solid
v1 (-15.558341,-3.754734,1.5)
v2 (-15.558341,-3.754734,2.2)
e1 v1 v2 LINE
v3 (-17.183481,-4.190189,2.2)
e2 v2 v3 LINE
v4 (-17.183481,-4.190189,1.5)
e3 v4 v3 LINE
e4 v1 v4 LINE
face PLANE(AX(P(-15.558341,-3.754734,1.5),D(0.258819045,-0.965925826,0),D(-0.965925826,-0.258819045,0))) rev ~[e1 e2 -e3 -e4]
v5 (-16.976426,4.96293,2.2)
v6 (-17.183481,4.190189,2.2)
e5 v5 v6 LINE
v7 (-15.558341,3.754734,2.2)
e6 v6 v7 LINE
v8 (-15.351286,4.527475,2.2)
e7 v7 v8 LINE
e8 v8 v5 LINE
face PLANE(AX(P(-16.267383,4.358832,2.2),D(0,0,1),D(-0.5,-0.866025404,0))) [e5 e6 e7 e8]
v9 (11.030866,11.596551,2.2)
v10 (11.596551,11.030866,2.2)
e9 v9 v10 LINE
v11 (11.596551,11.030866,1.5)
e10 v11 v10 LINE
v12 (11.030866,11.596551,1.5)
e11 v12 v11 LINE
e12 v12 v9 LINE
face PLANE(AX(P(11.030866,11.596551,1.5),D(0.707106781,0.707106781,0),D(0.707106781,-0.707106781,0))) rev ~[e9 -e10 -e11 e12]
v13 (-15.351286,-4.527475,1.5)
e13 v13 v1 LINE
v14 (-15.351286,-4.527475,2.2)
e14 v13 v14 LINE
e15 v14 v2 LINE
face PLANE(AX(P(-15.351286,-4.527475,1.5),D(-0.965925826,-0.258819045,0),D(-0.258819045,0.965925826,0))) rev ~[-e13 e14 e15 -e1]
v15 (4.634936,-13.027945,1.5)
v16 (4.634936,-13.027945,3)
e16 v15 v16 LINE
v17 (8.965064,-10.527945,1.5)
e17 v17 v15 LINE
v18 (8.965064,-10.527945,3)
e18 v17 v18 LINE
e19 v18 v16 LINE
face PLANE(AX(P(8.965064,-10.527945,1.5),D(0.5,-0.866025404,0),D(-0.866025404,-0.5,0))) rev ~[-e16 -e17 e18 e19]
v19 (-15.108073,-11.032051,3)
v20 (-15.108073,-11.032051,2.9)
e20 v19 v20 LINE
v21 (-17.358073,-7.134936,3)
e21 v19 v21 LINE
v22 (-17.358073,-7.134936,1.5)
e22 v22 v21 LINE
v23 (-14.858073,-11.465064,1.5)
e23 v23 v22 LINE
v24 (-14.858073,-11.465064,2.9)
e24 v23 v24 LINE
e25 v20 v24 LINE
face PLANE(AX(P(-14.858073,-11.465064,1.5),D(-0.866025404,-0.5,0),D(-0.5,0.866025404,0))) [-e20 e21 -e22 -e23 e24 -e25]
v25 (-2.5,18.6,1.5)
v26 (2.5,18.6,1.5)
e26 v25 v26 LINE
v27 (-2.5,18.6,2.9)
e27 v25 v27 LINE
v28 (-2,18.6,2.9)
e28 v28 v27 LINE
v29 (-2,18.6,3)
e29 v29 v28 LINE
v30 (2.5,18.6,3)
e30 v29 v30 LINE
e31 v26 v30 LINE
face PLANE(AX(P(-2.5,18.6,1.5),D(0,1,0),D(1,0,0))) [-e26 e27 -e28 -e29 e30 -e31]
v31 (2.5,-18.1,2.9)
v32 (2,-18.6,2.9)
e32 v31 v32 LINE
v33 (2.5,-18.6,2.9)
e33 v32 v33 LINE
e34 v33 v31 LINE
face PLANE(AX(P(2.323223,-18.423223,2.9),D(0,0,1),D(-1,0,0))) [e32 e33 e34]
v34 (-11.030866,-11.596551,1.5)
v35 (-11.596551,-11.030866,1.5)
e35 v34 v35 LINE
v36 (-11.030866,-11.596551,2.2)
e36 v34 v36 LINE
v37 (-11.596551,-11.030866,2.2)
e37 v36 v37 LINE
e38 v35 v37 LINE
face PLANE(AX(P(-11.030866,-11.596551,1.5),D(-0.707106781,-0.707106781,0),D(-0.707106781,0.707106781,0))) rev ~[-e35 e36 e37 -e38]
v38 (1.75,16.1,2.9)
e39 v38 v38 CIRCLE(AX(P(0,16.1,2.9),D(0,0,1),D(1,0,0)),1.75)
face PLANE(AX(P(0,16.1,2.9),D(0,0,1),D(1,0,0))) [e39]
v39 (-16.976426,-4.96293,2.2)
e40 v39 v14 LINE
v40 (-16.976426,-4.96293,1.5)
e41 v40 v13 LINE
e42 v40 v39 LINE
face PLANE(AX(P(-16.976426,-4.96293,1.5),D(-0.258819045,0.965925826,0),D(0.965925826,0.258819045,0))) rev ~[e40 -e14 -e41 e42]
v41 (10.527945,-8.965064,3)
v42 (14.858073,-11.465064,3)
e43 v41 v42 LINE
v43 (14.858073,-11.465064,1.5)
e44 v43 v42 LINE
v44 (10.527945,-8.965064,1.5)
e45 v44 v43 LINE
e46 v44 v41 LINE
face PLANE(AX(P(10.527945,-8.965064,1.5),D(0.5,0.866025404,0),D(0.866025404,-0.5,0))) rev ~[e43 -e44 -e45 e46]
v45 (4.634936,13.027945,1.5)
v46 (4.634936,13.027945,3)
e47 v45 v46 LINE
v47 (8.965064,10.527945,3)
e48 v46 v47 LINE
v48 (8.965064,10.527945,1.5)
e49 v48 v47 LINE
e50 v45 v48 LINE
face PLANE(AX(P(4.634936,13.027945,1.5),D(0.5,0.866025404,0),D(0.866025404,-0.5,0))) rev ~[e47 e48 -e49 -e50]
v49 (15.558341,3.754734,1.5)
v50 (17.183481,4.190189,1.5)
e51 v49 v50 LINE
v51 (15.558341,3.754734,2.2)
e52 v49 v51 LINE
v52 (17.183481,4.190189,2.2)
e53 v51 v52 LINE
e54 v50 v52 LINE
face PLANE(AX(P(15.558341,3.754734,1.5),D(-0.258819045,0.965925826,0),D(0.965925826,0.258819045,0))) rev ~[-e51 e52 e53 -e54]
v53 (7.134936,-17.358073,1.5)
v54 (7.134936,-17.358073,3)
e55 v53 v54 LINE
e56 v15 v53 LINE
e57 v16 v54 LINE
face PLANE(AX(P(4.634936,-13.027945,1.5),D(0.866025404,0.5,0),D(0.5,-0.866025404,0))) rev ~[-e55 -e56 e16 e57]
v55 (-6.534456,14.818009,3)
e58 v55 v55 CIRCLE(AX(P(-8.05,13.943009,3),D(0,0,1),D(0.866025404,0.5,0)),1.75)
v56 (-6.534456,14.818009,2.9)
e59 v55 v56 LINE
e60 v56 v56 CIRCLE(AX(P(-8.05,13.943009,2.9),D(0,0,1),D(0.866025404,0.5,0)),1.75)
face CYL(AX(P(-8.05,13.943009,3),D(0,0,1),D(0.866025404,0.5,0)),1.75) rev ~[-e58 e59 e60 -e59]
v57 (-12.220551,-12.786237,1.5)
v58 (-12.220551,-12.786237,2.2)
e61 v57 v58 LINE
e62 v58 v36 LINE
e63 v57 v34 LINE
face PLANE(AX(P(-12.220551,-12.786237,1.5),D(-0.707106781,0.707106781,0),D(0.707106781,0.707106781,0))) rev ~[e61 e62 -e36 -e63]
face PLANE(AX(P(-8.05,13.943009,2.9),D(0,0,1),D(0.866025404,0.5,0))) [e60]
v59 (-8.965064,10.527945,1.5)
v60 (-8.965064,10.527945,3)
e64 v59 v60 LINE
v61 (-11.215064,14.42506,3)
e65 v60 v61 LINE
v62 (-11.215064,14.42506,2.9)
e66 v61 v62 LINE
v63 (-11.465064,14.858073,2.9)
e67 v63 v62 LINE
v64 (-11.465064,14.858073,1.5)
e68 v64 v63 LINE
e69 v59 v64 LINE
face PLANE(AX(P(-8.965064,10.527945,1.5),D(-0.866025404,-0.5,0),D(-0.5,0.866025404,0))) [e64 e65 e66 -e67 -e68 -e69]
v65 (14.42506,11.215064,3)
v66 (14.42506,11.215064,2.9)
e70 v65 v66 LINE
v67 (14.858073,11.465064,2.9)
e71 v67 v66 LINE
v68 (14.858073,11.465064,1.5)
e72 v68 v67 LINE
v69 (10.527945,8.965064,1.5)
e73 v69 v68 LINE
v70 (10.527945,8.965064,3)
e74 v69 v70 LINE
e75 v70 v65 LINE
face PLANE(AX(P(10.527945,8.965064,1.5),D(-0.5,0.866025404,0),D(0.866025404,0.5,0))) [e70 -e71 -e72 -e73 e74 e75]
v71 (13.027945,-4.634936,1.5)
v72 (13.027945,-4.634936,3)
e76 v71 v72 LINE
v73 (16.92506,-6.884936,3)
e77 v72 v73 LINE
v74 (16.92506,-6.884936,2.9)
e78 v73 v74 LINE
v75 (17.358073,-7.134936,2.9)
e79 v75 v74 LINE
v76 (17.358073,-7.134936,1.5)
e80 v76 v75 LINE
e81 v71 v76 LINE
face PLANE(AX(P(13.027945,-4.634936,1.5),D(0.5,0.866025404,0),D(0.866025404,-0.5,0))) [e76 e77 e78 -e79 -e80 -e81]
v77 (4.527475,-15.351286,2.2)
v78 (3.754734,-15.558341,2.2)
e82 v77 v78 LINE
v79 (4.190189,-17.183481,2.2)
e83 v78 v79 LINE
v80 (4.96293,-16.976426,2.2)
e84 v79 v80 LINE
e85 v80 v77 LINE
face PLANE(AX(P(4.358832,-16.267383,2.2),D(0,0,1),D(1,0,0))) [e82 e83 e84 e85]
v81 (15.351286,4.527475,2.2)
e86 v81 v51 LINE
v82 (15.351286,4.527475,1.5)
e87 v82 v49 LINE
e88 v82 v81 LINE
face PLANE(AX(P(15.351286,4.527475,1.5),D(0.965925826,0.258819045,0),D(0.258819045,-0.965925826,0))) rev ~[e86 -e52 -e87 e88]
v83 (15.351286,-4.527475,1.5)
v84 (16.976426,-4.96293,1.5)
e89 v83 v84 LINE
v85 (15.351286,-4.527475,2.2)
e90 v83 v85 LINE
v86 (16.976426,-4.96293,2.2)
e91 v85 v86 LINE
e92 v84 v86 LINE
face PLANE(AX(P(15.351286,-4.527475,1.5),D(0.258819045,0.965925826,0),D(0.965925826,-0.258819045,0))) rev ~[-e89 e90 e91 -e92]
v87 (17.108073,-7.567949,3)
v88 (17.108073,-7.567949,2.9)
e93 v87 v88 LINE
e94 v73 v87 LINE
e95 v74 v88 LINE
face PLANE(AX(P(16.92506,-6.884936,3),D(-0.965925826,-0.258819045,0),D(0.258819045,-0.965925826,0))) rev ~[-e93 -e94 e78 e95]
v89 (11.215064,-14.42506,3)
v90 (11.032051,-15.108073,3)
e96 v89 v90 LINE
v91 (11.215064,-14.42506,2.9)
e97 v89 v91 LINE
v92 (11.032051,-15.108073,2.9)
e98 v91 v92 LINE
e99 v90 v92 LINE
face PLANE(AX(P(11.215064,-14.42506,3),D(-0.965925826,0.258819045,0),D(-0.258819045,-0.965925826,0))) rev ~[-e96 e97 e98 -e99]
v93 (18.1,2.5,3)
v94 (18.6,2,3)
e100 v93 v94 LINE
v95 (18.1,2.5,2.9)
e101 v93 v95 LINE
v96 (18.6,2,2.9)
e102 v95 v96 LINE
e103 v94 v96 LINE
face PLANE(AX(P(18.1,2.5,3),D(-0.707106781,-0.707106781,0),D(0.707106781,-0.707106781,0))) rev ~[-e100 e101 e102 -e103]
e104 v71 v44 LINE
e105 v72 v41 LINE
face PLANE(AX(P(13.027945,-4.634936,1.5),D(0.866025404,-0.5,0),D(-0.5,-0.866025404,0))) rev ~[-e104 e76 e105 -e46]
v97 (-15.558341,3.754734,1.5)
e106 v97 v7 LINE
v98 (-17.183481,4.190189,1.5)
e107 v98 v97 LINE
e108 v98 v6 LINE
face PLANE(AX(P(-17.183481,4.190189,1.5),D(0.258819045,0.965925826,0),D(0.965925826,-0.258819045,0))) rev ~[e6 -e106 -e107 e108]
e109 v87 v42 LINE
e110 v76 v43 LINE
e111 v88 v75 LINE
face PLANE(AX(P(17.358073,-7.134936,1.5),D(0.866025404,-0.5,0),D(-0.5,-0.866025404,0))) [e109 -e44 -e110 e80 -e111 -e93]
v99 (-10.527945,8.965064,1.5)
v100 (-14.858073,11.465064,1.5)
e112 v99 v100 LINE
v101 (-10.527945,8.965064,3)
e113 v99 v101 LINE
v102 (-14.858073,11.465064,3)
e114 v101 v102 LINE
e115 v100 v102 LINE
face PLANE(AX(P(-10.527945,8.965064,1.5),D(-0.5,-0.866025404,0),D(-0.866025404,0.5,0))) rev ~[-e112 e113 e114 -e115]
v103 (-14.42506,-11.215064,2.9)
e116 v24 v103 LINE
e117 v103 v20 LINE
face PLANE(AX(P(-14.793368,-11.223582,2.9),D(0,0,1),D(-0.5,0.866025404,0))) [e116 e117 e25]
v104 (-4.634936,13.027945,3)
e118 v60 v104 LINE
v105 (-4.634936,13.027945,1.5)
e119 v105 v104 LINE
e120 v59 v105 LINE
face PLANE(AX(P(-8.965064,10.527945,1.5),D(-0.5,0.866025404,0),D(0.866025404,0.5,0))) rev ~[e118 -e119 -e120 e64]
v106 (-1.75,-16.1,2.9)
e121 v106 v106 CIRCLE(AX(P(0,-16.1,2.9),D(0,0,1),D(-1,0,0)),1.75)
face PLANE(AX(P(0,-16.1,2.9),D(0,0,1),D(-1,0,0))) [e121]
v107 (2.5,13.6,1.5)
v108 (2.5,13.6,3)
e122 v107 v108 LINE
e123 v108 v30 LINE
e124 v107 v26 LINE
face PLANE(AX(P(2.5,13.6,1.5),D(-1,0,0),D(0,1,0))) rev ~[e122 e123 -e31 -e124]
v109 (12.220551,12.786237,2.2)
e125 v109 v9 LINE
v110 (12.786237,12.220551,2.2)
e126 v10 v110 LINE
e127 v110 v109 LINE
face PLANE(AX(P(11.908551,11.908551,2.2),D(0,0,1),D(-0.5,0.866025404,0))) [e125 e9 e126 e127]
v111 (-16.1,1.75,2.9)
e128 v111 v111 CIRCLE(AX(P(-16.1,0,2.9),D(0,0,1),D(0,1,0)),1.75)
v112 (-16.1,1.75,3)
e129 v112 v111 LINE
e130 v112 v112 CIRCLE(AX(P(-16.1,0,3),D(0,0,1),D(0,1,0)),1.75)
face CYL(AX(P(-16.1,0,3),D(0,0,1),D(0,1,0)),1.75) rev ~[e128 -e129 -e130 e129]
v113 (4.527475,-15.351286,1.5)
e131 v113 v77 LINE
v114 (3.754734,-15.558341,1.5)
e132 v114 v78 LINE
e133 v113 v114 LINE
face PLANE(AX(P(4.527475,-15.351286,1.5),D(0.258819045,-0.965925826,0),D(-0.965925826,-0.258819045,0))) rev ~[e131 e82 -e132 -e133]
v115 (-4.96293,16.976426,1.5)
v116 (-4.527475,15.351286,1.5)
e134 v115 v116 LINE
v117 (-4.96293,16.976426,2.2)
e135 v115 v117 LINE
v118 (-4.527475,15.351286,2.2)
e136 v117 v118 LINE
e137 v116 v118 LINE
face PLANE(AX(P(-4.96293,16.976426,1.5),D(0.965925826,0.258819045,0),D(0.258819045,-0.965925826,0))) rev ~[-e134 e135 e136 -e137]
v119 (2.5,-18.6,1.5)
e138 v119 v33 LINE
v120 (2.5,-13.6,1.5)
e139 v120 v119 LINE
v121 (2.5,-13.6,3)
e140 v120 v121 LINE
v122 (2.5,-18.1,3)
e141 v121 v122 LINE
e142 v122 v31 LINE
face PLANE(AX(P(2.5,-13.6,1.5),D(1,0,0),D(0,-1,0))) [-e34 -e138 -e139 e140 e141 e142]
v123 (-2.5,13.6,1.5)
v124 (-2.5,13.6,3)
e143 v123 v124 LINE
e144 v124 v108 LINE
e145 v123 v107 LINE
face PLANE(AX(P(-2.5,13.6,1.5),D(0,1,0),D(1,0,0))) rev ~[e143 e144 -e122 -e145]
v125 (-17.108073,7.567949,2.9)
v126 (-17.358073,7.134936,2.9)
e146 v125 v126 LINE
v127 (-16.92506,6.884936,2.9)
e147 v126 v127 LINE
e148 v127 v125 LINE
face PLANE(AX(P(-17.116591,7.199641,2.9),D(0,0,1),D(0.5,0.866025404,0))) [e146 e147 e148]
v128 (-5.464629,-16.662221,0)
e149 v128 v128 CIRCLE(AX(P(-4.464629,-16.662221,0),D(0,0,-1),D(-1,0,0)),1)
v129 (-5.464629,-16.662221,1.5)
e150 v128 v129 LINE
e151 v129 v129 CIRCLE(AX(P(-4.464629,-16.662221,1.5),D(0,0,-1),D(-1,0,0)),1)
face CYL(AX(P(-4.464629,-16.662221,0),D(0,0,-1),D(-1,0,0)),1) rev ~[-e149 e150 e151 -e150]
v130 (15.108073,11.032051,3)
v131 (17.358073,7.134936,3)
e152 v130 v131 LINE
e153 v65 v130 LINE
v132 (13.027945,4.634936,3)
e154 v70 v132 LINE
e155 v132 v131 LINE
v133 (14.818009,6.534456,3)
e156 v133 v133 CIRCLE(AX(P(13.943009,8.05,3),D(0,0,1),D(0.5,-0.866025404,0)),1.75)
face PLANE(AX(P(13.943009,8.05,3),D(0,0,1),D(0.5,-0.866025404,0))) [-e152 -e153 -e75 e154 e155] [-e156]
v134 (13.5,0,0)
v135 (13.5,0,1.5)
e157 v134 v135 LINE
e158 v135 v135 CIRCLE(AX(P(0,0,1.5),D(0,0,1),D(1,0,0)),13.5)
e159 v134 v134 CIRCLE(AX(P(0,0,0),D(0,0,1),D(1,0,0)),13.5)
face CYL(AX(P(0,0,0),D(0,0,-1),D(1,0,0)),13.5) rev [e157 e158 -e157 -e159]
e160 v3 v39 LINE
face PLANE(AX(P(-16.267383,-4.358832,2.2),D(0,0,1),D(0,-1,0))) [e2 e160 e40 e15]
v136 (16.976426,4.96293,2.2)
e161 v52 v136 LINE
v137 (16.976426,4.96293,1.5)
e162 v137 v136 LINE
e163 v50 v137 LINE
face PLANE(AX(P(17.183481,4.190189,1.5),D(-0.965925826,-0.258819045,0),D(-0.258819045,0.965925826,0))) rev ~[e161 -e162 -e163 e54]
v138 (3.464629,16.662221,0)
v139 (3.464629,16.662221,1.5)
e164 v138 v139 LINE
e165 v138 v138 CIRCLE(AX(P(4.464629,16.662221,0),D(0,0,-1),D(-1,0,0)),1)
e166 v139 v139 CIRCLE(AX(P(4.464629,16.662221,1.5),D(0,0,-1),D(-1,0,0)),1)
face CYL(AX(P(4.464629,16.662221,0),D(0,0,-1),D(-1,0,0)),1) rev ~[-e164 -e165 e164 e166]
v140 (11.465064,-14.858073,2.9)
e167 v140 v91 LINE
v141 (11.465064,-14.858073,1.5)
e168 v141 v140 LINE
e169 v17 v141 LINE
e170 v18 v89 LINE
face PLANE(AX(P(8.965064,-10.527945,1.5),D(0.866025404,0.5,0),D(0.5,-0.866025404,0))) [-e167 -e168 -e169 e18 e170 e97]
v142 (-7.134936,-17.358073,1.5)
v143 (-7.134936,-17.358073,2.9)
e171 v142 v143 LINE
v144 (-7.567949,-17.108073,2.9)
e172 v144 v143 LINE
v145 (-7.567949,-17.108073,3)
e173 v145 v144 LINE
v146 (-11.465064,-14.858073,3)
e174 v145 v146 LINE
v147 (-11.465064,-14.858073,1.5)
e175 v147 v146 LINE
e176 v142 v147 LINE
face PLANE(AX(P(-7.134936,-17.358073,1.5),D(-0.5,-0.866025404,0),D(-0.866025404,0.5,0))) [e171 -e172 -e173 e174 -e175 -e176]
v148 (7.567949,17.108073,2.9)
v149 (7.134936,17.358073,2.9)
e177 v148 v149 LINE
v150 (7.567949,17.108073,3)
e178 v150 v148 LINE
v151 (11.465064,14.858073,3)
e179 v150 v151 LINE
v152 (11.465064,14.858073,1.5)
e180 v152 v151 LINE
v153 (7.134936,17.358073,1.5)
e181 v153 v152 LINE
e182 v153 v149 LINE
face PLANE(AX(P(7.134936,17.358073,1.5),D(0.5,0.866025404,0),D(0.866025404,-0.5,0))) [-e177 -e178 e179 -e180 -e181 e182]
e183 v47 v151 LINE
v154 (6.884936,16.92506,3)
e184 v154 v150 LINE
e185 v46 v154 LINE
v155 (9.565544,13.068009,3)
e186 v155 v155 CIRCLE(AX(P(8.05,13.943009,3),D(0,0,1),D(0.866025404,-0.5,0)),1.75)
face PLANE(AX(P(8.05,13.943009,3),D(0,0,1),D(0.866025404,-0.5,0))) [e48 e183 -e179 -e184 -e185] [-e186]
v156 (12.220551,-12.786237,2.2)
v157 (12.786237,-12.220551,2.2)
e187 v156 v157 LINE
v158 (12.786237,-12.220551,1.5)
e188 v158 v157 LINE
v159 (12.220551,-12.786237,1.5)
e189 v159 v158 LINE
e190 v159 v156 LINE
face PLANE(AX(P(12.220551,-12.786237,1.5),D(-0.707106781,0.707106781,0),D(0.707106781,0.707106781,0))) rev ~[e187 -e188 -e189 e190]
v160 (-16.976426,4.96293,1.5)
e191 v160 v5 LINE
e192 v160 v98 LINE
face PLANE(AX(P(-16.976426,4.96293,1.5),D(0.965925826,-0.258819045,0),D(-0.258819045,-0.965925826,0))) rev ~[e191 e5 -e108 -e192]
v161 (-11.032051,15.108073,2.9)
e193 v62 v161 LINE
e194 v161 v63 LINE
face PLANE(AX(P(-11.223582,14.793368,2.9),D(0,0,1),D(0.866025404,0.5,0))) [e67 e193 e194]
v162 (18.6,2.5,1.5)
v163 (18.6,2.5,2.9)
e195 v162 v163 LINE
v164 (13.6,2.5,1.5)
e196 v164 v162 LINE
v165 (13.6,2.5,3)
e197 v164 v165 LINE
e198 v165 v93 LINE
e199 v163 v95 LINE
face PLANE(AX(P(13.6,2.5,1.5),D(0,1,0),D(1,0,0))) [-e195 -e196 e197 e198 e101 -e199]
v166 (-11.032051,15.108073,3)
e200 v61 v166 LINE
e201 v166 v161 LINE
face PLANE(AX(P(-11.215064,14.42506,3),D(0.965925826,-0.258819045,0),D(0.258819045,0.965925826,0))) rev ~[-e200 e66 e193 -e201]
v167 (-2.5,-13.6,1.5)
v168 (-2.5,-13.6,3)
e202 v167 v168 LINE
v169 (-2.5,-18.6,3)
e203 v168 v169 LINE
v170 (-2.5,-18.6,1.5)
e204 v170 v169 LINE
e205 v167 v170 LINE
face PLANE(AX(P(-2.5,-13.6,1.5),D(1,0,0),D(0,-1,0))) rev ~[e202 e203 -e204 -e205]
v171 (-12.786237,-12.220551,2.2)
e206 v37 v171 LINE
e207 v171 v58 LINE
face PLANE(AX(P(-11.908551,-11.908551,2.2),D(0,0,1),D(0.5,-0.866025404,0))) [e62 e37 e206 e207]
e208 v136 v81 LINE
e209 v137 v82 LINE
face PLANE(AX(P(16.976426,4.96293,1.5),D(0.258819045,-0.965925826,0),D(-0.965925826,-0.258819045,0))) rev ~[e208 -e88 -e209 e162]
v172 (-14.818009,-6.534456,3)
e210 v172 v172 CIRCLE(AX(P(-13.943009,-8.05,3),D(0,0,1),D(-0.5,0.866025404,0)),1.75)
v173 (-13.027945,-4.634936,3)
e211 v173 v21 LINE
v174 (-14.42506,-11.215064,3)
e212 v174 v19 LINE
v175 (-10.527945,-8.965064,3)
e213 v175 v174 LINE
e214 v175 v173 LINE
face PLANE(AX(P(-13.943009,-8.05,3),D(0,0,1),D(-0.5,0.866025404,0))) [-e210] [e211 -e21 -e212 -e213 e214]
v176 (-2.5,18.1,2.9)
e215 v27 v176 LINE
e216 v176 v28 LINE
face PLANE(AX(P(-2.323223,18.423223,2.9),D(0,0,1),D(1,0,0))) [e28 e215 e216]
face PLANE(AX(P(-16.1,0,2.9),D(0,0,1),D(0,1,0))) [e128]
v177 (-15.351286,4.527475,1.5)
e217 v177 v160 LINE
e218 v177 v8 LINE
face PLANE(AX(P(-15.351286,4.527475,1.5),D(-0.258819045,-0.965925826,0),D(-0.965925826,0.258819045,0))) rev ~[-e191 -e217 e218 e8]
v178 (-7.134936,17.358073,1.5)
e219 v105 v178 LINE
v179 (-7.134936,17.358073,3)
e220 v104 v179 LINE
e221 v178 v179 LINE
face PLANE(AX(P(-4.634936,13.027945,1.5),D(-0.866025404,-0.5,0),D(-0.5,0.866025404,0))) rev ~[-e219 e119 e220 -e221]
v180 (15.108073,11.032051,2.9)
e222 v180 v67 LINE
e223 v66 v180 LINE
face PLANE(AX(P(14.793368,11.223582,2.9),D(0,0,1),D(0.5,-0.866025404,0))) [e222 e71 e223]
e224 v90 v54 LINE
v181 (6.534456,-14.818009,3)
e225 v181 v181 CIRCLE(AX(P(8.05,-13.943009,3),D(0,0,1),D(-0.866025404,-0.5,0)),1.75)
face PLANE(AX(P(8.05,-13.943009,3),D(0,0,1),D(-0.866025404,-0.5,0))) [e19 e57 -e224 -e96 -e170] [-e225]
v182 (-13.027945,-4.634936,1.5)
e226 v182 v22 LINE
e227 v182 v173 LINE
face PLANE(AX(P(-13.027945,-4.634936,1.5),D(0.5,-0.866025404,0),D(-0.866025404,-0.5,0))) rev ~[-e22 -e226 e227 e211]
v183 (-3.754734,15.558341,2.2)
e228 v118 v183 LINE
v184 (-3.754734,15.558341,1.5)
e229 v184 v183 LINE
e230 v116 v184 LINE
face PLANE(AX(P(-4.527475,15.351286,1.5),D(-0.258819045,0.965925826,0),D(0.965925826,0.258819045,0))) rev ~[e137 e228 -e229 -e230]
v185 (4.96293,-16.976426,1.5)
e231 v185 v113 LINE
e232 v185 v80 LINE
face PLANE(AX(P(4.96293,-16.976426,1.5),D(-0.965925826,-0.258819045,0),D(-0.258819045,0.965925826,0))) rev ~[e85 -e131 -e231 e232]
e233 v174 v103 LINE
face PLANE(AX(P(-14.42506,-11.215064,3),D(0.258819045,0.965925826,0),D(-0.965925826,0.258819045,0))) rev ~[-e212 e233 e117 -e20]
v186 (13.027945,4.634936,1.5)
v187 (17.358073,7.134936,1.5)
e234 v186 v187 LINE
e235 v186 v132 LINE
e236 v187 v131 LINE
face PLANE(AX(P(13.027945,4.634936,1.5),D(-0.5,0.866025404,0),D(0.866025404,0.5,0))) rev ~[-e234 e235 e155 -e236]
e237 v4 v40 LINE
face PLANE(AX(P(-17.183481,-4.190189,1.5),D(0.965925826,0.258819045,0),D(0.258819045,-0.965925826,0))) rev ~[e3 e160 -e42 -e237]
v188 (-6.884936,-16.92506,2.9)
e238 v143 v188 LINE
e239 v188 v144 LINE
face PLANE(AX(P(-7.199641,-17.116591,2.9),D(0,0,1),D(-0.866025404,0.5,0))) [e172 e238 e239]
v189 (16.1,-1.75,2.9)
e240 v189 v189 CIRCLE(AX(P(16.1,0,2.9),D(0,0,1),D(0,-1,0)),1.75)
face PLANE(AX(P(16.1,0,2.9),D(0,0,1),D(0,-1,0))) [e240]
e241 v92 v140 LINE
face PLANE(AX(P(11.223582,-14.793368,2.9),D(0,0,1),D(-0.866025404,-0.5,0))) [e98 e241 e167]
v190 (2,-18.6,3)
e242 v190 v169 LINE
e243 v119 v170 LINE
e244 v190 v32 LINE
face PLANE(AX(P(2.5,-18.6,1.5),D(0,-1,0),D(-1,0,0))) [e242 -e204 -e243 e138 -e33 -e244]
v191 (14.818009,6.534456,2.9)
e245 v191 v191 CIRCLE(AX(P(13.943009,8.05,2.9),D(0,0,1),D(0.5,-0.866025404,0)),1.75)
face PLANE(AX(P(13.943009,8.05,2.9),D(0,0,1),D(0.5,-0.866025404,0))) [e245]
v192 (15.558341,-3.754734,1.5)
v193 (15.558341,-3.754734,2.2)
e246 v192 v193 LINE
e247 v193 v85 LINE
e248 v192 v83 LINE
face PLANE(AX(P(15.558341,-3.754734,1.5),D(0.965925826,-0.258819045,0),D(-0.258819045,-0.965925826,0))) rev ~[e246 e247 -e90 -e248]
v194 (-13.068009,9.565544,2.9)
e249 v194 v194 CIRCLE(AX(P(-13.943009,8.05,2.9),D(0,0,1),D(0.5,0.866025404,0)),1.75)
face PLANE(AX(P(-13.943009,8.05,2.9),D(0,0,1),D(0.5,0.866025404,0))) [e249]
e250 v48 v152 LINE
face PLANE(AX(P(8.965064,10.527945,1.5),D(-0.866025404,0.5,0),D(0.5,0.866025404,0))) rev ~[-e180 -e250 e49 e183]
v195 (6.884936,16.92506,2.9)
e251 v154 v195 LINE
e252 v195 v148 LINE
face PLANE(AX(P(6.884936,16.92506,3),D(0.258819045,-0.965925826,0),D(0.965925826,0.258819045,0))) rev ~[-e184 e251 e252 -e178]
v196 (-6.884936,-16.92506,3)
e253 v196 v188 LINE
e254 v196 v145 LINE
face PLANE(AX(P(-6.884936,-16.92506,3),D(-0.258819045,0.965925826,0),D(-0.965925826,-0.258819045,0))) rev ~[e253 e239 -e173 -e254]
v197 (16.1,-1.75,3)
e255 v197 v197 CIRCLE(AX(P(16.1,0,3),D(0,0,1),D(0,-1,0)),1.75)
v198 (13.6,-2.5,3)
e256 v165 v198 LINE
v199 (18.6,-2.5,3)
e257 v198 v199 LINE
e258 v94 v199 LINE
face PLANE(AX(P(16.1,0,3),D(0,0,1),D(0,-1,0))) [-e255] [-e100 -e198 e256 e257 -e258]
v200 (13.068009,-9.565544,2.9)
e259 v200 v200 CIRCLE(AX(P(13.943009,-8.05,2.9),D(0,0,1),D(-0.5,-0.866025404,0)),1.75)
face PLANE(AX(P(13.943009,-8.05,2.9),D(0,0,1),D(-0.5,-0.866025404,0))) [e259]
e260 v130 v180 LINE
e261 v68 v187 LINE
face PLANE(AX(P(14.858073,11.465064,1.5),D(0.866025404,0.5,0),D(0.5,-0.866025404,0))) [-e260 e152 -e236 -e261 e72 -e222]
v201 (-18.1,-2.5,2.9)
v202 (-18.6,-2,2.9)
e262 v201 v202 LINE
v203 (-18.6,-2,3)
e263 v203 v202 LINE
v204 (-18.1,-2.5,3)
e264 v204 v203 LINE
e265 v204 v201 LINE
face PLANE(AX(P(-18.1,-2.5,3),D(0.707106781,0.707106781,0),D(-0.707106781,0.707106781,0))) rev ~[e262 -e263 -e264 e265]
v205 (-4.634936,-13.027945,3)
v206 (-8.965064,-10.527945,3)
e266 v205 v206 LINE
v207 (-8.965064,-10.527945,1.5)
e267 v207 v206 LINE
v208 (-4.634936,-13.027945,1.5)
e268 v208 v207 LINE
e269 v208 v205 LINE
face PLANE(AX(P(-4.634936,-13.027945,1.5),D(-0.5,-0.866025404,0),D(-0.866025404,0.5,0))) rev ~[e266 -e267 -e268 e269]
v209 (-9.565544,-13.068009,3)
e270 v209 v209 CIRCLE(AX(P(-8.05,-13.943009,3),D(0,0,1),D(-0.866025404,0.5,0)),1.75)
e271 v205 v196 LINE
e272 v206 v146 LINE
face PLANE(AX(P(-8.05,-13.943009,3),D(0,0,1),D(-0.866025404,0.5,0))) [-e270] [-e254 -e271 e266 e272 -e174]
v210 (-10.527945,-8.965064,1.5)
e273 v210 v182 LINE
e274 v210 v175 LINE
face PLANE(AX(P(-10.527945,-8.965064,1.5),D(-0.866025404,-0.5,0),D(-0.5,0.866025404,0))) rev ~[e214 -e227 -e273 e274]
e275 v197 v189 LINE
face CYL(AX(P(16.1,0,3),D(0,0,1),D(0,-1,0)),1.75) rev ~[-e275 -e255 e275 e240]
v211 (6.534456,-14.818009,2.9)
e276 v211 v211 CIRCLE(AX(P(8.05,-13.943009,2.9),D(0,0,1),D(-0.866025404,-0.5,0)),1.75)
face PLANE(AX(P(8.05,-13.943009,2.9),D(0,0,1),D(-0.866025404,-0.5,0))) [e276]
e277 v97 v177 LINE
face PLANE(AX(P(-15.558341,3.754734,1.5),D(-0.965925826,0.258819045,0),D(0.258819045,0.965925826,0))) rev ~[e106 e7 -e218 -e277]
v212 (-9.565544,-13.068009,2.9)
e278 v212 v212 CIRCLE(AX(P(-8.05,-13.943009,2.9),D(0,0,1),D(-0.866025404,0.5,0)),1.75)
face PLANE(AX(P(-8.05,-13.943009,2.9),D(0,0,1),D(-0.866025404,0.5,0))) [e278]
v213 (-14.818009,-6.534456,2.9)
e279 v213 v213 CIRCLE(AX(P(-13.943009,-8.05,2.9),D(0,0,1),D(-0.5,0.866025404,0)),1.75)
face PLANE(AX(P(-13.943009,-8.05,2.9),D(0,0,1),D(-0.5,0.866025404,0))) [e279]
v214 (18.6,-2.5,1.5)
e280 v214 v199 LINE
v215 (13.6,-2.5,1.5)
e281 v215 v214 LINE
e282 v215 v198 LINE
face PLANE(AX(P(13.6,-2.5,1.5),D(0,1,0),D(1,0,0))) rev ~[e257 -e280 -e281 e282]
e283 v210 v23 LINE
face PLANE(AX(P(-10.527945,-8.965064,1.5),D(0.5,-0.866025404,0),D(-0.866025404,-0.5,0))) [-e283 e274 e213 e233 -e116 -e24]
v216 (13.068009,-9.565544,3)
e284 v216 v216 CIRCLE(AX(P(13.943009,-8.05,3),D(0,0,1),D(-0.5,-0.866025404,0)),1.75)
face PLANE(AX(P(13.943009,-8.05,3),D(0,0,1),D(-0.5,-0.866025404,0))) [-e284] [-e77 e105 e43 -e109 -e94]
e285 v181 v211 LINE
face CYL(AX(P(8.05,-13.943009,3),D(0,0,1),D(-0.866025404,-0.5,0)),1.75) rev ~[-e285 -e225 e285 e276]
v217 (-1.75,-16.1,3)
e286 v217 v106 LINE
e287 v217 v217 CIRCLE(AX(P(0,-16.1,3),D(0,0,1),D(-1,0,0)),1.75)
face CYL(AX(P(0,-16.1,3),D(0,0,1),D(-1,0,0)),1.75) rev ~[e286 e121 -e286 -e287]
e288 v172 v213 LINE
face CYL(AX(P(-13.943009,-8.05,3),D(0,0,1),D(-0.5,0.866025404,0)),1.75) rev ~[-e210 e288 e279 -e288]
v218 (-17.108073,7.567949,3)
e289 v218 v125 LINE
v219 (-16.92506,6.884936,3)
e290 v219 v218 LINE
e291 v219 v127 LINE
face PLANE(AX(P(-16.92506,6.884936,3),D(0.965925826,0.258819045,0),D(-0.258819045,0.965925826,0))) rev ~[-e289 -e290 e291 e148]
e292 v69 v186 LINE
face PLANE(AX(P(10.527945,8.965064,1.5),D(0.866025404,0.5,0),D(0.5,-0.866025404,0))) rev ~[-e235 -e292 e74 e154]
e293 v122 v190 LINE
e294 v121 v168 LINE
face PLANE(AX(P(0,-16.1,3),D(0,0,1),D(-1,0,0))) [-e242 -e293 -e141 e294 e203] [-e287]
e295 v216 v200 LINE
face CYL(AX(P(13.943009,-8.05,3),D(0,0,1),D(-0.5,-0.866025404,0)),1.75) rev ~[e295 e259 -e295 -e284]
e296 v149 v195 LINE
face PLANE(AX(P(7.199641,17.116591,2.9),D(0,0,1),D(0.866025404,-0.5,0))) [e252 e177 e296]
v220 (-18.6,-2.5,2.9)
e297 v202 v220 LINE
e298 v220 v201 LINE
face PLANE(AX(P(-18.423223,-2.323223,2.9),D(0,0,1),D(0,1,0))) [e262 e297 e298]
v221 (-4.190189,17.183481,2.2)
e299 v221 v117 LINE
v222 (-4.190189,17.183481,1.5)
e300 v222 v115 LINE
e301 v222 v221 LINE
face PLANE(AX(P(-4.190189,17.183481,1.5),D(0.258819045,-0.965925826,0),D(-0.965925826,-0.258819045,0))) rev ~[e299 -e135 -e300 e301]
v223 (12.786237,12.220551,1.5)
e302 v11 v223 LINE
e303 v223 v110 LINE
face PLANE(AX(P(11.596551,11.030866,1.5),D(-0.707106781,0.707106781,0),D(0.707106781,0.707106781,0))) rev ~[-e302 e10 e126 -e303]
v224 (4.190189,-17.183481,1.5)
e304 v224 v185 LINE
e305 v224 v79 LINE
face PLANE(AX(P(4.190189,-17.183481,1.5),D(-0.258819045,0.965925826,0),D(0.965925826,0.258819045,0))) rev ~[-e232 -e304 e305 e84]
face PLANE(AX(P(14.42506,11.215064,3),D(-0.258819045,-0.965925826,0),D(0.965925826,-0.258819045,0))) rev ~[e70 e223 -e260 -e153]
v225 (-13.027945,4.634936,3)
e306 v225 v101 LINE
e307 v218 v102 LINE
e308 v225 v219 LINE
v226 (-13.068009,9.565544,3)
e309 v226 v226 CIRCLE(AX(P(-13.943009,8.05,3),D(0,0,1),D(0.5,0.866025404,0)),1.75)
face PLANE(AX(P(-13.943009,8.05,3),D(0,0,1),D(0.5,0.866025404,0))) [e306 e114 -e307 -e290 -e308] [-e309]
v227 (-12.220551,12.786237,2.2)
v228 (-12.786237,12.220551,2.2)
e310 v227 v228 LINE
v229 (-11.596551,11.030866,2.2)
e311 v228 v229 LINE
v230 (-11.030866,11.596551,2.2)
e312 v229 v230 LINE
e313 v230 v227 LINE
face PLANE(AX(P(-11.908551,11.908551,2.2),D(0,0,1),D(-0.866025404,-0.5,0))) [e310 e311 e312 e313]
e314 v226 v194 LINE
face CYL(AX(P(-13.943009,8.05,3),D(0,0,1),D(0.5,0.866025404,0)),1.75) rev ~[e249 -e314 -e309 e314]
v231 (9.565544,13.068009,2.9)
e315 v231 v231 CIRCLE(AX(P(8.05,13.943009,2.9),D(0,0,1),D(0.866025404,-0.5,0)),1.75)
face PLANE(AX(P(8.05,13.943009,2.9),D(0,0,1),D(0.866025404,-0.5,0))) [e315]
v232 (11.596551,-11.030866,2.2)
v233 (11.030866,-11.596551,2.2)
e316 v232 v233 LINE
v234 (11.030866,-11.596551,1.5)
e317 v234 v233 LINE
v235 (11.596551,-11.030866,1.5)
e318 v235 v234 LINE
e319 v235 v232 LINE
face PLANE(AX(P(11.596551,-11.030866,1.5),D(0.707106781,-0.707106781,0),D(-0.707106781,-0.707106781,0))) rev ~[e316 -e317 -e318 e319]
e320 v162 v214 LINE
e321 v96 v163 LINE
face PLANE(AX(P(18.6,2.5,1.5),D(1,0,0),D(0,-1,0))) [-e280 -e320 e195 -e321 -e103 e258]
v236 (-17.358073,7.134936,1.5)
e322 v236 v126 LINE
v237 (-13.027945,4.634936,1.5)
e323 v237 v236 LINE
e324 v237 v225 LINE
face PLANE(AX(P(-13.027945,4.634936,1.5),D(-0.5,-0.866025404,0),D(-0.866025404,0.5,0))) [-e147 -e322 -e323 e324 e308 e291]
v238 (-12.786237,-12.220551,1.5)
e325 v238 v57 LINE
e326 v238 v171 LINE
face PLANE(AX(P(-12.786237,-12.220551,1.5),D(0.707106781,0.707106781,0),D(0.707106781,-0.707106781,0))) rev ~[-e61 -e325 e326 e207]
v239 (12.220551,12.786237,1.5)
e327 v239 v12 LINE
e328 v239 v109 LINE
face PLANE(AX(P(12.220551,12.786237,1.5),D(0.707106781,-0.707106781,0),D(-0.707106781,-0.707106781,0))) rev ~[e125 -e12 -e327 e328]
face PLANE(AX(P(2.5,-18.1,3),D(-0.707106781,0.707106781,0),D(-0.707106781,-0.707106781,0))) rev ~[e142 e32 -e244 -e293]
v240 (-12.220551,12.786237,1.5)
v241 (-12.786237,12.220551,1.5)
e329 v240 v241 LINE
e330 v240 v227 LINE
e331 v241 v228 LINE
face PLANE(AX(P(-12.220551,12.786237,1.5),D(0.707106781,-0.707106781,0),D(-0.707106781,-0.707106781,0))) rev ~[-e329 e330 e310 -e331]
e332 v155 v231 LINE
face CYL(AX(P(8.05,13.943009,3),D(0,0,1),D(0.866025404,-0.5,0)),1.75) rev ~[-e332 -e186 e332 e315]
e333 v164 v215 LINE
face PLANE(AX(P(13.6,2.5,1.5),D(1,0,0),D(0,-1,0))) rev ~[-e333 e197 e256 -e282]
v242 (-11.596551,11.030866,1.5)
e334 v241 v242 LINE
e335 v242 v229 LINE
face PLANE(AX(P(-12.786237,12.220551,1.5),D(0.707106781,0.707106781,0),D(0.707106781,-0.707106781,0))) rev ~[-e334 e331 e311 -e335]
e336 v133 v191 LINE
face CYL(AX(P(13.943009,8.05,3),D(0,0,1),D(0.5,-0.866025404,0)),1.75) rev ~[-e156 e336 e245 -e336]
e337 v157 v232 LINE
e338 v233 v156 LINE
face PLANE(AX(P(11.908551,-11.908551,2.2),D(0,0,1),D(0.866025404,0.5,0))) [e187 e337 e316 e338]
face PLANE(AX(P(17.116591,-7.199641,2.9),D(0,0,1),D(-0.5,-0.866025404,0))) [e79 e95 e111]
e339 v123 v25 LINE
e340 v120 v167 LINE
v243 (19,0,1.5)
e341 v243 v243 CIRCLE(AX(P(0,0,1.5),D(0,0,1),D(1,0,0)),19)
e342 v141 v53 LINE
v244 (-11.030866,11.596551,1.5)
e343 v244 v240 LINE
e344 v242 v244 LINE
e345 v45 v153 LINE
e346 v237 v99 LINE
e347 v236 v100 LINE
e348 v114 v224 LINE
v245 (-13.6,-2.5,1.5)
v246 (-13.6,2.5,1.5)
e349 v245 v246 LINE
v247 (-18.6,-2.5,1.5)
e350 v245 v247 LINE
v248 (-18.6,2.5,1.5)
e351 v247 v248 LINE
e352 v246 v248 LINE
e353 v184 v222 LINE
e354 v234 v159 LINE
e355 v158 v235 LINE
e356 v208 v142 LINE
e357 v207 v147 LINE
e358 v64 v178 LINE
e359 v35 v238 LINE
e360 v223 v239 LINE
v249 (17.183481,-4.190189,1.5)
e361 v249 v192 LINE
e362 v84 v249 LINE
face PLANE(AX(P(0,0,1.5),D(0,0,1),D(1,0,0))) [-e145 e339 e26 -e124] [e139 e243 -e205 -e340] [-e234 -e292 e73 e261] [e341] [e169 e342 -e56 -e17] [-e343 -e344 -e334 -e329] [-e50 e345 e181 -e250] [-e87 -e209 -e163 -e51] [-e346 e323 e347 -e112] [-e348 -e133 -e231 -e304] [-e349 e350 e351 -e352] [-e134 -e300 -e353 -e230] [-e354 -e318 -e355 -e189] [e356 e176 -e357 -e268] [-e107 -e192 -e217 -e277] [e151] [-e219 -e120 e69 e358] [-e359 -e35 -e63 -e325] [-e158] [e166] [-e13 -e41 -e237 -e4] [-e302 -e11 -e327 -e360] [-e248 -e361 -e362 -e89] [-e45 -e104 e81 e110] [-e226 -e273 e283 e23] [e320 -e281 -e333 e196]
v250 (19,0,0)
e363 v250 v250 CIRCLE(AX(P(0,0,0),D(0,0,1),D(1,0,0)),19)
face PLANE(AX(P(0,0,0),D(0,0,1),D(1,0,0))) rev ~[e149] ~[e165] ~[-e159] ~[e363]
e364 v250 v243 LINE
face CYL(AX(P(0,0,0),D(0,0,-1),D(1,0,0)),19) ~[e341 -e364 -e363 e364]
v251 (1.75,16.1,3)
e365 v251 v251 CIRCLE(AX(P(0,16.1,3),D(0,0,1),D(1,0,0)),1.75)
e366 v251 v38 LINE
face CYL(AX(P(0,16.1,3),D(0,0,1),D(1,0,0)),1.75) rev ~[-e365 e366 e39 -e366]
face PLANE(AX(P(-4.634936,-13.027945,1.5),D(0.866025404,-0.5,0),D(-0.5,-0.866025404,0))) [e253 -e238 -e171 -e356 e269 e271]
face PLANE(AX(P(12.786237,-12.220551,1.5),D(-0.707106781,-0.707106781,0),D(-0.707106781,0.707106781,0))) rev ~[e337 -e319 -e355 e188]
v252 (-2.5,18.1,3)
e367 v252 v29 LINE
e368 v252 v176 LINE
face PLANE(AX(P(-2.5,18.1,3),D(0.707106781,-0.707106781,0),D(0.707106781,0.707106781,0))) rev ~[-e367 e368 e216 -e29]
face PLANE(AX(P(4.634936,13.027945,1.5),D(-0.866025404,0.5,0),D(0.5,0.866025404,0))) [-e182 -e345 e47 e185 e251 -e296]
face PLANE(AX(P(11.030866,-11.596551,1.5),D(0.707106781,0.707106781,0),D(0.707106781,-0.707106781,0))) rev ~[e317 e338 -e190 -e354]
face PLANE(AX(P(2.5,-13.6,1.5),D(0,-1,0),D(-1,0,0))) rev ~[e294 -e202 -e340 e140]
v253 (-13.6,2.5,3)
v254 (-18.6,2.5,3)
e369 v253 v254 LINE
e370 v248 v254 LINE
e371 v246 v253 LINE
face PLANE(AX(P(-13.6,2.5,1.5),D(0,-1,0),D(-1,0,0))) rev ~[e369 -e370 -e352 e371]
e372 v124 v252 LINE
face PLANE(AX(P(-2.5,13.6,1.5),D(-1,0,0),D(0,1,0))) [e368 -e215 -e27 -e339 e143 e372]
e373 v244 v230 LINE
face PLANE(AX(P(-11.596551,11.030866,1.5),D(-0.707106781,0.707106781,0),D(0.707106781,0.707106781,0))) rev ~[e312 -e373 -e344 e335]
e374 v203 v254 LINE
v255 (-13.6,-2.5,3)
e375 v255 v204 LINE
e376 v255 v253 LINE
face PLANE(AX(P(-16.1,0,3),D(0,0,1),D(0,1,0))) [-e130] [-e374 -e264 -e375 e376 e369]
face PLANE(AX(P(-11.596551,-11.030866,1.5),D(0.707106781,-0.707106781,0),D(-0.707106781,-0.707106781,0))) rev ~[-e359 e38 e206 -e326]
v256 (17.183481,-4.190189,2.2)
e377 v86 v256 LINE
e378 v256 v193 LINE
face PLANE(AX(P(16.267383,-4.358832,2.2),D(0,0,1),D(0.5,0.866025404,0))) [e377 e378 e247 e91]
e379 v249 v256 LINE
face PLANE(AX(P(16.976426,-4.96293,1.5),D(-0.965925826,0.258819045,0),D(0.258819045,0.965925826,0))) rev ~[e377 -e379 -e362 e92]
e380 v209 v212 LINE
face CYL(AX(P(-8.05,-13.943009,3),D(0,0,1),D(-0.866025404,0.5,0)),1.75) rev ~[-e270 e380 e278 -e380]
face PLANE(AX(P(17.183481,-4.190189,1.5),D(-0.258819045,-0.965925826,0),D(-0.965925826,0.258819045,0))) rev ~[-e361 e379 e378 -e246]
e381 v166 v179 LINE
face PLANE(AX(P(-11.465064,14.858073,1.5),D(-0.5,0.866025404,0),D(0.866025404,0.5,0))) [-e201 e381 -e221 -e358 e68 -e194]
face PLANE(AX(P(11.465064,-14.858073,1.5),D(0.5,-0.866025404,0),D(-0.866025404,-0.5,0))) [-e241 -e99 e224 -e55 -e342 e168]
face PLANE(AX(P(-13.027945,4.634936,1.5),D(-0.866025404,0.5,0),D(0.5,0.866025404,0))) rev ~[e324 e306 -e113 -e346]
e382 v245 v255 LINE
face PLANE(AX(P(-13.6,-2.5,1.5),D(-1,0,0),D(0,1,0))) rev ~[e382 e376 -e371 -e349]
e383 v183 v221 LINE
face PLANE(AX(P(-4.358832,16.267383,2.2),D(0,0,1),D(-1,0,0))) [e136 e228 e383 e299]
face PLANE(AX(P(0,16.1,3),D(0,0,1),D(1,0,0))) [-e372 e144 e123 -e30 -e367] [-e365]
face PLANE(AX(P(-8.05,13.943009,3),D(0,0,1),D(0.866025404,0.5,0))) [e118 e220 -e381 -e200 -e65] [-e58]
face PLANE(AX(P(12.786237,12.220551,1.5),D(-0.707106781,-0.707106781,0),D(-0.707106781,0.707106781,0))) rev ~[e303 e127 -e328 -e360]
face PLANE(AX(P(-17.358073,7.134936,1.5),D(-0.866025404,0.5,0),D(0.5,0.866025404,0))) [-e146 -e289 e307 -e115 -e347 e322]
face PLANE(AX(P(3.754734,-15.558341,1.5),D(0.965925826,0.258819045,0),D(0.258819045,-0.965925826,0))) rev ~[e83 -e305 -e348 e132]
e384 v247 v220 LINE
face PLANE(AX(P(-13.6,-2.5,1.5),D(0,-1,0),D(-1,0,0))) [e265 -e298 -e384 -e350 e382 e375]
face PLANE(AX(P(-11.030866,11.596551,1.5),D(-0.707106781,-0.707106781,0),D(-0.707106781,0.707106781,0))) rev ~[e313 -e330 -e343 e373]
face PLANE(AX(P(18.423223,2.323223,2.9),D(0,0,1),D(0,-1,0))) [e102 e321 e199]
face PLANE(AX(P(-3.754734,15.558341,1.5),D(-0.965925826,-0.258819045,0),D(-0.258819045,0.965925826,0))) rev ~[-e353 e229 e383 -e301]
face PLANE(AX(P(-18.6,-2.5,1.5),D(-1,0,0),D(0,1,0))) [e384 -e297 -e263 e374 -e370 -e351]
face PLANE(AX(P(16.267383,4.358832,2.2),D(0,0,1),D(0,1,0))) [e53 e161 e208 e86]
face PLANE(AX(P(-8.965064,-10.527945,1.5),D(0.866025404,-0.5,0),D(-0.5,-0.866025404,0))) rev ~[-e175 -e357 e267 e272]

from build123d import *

# Parameters (mm, degrees)
SKETCH_1_R                      = 19
SKETCH_1_R_2                    = 13.5
EXTRUDE_1_DEPTH                 = 1.5
SKETCH_2_W                      = 5
SKETCH_2_H                      = 5
EXTRUDE_2_DEPTH                 = 1.5
PATTERN_CIRCULAR_2_COUNT        = 12
SKETCH_6_R                      = 1.75
CUT_EXTRUDE_1_DEPTH             = 0.1
PATTERN_CIRCULAR_3_COUNT        = 12
SKETCH_7_R                      = 1
CUT_EXTRUDE_2_DEPTH             = 28.037011669
EXTRUDE_3_DEPTH                 = 0.7
PATTERN_CIRCULAR_4_COUNT        = 5
PATTERN_CIRCULAR_4_ANGLE        = 120
PATTERN_CIRCULAR_5_COUNT        = 2
PATTERN_CIRCULAR_5_ANGLE        = 60
PATTERN_CIRCULAR_6_COUNT        = 5
PATTERN_CIRCULAR_6_ANGLE        = 120
PATTERN_CIRCULAR_6_COPY_1_DEPTH = 0.7
PATTERN_CIRCULAR_6_COPY_2_DEPTH = 0.7
PATTERN_CIRCULAR_6_COPY_3_DEPTH = 0.7


with BuildPart() as part:
    # ｽｹｯﾁ1 → ﾎﾞｽ - 押し出し1 (new body)
    with BuildSketch(Plane.XY):
        Circle(SKETCH_1_R)
        Circle(SKETCH_1_R_2, mode=Mode.SUBTRACT)
    extrude(amount=EXTRUDE_1_DEPTH)

    # ｽｹｯﾁ2 → ﾎﾞｽ - 押し出し2 (add)
    with BuildSketch(Plane.XY.offset(1.5)):
        with Locations((0, 16.1)):
            Rectangle(SKETCH_2_W, SKETCH_2_H)
    extrude_2 = extrude(amount=EXTRUDE_2_DEPTH)

    # 円形ﾊﾟﾀｰﾝ2: ﾎﾞｽ - 押し出し2 ×12 about axis
    pattern_circular_2_axis = Axis((0, 0, 0), (0, 0, 1))
    for i in range(1, PATTERN_CIRCULAR_2_COUNT):
        add(extrude_2.rotate(pattern_circular_2_axis, i * 360 / PATTERN_CIRCULAR_2_COUNT))

    # ｽｹｯﾁ6 → ｶｯﾄ - 押し出し1 (cut)
    with BuildSketch(Plane.XY.offset(3)):
        with Locations((0, 16.1)):
            Circle(SKETCH_6_R)
        Polygon((-2.5, 18.1), (-2, 18.6), (-2.5, 18.6), align=None)
    cut_extrude_1 = extrude(amount=-CUT_EXTRUDE_1_DEPTH, mode=Mode.SUBTRACT)

    # 円形ﾊﾟﾀｰﾝ3: ｶｯﾄ - 押し出し1 ×12 about axis
    pattern_circular_3_axis = Axis((0, 0, 0), (0, 0, 1))
    for i in range(1, PATTERN_CIRCULAR_3_COUNT):
        add(cut_extrude_1.rotate(pattern_circular_3_axis, i * 360 / PATTERN_CIRCULAR_3_COUNT), mode=Mode.SUBTRACT)

    # ｽｹｯﾁ7 → ｶｯﾄ - 押し出し2 (cut, through all)
    with BuildSketch(Plane(origin=(0, 0, 0), x_dir=(-1, 0, 0), z_dir=(0, 0, -1))):
        with Locations((4.464628528, -16.662220503)):
            Circle(SKETCH_7_R)
        with Locations((-4.464628528, 16.662220503)):
            Circle(SKETCH_7_R)
    extrude(amount=-CUT_EXTRUDE_2_DEPTH, mode=Mode.SUBTRACT)

    # ｽｹｯﾁ8 → ﾎﾞｽ - 押し出し3 (add)
    with BuildSketch(Plane.XY.offset(1.5)):
        Polygon((4.527475052, -15.351285603), (3.754734391, -15.558340839), (4.190189437, -17.183481193), (4.962930098, -16.976425957), align=None)
    extrude_3 = extrude(amount=EXTRUDE_3_DEPTH)

    # 円形ﾊﾟﾀｰﾝ4: ﾎﾞｽ - 押し出し3 ×5 about axis
    pattern_circular_4_axis = Axis((0, 0, 0), (0, 0, 1))
    for i in range(1, PATTERN_CIRCULAR_4_COUNT):
        add(extrude_3.rotate(pattern_circular_4_axis, i * PATTERN_CIRCULAR_4_ANGLE / (PATTERN_CIRCULAR_4_COUNT - 1)))

    # 円形ﾊﾟﾀｰﾝ5: ﾎﾞｽ - 押し出し3 ×2 about axis
    pattern_circular_5_axis = Axis((0, 0, 0), (0, 0, -1))
    for i in range(1, PATTERN_CIRCULAR_5_COUNT):
        add(extrude_3.rotate(pattern_circular_5_axis, i * PATTERN_CIRCULAR_5_ANGLE / (PATTERN_CIRCULAR_5_COUNT - 1)))

    # 円形ﾊﾟﾀｰﾝ6: ﾎﾞｽ - 押し出し3 ×5 about axis, 1 skipped
    pattern_circular_6_axis = Axis((0, 0, 1.5), (0, 0, -1))
    add([extrude_3.rotate(pattern_circular_6_axis, i * PATTERN_CIRCULAR_6_ANGLE / (PATTERN_CIRCULAR_6_COUNT - 1)) for i in range(1, PATTERN_CIRCULAR_6_COUNT) if i not in (1,)])

    # 円形ﾊﾟﾀｰﾝ6 copy 1 sketch → 円形ﾊﾟﾀｰﾝ6 copy 1 (add)
    with BuildSketch(Plane(origin=(0, 0, 1.5), x_dir=(-0.5000000000000044, -0.866025403784436, 0), z_dir=(0, 0, 1))):
        Polygon((4.527475052, -15.351285603), (3.754734391, -15.558340839), (4.190189437, -17.183481193), (4.962930098, -16.976425957), align=None)
    extrude(amount=PATTERN_CIRCULAR_6_COPY_1_DEPTH)

    # 円形ﾊﾟﾀｰﾝ6 copy 2 sketch → 円形ﾊﾟﾀｰﾝ6 copy 2 (add)
    with BuildSketch(Plane(origin=(0, 0, 1.5), x_dir=(-0.8660254037844418, -0.49999999999999456, 0), z_dir=(0, 0, 1))):
        Polygon((4.527475052, -15.351285603), (3.754734391, -15.558340839), (4.190189437, -17.183481193), (4.962930098, -16.976425957), align=None)
    extrude(amount=PATTERN_CIRCULAR_6_COPY_2_DEPTH)

    # 円形ﾊﾟﾀｰﾝ6 copy 3 sketch → 円形ﾊﾟﾀｰﾝ6 copy 3 (add)
    with BuildSketch(Plane(origin=(0, 0, 1.5), x_dir=(-1, 0, 0), z_dir=(0, 0, 1))):
        Polygon((4.527475052, -15.351285603), (3.754734391, -15.558340839), (4.190189437, -17.183481193), (4.962930098, -16.976425957), align=None)
    extrude(amount=PATTERN_CIRCULAR_6_COPY_3_DEPTH)


solid = part.part
